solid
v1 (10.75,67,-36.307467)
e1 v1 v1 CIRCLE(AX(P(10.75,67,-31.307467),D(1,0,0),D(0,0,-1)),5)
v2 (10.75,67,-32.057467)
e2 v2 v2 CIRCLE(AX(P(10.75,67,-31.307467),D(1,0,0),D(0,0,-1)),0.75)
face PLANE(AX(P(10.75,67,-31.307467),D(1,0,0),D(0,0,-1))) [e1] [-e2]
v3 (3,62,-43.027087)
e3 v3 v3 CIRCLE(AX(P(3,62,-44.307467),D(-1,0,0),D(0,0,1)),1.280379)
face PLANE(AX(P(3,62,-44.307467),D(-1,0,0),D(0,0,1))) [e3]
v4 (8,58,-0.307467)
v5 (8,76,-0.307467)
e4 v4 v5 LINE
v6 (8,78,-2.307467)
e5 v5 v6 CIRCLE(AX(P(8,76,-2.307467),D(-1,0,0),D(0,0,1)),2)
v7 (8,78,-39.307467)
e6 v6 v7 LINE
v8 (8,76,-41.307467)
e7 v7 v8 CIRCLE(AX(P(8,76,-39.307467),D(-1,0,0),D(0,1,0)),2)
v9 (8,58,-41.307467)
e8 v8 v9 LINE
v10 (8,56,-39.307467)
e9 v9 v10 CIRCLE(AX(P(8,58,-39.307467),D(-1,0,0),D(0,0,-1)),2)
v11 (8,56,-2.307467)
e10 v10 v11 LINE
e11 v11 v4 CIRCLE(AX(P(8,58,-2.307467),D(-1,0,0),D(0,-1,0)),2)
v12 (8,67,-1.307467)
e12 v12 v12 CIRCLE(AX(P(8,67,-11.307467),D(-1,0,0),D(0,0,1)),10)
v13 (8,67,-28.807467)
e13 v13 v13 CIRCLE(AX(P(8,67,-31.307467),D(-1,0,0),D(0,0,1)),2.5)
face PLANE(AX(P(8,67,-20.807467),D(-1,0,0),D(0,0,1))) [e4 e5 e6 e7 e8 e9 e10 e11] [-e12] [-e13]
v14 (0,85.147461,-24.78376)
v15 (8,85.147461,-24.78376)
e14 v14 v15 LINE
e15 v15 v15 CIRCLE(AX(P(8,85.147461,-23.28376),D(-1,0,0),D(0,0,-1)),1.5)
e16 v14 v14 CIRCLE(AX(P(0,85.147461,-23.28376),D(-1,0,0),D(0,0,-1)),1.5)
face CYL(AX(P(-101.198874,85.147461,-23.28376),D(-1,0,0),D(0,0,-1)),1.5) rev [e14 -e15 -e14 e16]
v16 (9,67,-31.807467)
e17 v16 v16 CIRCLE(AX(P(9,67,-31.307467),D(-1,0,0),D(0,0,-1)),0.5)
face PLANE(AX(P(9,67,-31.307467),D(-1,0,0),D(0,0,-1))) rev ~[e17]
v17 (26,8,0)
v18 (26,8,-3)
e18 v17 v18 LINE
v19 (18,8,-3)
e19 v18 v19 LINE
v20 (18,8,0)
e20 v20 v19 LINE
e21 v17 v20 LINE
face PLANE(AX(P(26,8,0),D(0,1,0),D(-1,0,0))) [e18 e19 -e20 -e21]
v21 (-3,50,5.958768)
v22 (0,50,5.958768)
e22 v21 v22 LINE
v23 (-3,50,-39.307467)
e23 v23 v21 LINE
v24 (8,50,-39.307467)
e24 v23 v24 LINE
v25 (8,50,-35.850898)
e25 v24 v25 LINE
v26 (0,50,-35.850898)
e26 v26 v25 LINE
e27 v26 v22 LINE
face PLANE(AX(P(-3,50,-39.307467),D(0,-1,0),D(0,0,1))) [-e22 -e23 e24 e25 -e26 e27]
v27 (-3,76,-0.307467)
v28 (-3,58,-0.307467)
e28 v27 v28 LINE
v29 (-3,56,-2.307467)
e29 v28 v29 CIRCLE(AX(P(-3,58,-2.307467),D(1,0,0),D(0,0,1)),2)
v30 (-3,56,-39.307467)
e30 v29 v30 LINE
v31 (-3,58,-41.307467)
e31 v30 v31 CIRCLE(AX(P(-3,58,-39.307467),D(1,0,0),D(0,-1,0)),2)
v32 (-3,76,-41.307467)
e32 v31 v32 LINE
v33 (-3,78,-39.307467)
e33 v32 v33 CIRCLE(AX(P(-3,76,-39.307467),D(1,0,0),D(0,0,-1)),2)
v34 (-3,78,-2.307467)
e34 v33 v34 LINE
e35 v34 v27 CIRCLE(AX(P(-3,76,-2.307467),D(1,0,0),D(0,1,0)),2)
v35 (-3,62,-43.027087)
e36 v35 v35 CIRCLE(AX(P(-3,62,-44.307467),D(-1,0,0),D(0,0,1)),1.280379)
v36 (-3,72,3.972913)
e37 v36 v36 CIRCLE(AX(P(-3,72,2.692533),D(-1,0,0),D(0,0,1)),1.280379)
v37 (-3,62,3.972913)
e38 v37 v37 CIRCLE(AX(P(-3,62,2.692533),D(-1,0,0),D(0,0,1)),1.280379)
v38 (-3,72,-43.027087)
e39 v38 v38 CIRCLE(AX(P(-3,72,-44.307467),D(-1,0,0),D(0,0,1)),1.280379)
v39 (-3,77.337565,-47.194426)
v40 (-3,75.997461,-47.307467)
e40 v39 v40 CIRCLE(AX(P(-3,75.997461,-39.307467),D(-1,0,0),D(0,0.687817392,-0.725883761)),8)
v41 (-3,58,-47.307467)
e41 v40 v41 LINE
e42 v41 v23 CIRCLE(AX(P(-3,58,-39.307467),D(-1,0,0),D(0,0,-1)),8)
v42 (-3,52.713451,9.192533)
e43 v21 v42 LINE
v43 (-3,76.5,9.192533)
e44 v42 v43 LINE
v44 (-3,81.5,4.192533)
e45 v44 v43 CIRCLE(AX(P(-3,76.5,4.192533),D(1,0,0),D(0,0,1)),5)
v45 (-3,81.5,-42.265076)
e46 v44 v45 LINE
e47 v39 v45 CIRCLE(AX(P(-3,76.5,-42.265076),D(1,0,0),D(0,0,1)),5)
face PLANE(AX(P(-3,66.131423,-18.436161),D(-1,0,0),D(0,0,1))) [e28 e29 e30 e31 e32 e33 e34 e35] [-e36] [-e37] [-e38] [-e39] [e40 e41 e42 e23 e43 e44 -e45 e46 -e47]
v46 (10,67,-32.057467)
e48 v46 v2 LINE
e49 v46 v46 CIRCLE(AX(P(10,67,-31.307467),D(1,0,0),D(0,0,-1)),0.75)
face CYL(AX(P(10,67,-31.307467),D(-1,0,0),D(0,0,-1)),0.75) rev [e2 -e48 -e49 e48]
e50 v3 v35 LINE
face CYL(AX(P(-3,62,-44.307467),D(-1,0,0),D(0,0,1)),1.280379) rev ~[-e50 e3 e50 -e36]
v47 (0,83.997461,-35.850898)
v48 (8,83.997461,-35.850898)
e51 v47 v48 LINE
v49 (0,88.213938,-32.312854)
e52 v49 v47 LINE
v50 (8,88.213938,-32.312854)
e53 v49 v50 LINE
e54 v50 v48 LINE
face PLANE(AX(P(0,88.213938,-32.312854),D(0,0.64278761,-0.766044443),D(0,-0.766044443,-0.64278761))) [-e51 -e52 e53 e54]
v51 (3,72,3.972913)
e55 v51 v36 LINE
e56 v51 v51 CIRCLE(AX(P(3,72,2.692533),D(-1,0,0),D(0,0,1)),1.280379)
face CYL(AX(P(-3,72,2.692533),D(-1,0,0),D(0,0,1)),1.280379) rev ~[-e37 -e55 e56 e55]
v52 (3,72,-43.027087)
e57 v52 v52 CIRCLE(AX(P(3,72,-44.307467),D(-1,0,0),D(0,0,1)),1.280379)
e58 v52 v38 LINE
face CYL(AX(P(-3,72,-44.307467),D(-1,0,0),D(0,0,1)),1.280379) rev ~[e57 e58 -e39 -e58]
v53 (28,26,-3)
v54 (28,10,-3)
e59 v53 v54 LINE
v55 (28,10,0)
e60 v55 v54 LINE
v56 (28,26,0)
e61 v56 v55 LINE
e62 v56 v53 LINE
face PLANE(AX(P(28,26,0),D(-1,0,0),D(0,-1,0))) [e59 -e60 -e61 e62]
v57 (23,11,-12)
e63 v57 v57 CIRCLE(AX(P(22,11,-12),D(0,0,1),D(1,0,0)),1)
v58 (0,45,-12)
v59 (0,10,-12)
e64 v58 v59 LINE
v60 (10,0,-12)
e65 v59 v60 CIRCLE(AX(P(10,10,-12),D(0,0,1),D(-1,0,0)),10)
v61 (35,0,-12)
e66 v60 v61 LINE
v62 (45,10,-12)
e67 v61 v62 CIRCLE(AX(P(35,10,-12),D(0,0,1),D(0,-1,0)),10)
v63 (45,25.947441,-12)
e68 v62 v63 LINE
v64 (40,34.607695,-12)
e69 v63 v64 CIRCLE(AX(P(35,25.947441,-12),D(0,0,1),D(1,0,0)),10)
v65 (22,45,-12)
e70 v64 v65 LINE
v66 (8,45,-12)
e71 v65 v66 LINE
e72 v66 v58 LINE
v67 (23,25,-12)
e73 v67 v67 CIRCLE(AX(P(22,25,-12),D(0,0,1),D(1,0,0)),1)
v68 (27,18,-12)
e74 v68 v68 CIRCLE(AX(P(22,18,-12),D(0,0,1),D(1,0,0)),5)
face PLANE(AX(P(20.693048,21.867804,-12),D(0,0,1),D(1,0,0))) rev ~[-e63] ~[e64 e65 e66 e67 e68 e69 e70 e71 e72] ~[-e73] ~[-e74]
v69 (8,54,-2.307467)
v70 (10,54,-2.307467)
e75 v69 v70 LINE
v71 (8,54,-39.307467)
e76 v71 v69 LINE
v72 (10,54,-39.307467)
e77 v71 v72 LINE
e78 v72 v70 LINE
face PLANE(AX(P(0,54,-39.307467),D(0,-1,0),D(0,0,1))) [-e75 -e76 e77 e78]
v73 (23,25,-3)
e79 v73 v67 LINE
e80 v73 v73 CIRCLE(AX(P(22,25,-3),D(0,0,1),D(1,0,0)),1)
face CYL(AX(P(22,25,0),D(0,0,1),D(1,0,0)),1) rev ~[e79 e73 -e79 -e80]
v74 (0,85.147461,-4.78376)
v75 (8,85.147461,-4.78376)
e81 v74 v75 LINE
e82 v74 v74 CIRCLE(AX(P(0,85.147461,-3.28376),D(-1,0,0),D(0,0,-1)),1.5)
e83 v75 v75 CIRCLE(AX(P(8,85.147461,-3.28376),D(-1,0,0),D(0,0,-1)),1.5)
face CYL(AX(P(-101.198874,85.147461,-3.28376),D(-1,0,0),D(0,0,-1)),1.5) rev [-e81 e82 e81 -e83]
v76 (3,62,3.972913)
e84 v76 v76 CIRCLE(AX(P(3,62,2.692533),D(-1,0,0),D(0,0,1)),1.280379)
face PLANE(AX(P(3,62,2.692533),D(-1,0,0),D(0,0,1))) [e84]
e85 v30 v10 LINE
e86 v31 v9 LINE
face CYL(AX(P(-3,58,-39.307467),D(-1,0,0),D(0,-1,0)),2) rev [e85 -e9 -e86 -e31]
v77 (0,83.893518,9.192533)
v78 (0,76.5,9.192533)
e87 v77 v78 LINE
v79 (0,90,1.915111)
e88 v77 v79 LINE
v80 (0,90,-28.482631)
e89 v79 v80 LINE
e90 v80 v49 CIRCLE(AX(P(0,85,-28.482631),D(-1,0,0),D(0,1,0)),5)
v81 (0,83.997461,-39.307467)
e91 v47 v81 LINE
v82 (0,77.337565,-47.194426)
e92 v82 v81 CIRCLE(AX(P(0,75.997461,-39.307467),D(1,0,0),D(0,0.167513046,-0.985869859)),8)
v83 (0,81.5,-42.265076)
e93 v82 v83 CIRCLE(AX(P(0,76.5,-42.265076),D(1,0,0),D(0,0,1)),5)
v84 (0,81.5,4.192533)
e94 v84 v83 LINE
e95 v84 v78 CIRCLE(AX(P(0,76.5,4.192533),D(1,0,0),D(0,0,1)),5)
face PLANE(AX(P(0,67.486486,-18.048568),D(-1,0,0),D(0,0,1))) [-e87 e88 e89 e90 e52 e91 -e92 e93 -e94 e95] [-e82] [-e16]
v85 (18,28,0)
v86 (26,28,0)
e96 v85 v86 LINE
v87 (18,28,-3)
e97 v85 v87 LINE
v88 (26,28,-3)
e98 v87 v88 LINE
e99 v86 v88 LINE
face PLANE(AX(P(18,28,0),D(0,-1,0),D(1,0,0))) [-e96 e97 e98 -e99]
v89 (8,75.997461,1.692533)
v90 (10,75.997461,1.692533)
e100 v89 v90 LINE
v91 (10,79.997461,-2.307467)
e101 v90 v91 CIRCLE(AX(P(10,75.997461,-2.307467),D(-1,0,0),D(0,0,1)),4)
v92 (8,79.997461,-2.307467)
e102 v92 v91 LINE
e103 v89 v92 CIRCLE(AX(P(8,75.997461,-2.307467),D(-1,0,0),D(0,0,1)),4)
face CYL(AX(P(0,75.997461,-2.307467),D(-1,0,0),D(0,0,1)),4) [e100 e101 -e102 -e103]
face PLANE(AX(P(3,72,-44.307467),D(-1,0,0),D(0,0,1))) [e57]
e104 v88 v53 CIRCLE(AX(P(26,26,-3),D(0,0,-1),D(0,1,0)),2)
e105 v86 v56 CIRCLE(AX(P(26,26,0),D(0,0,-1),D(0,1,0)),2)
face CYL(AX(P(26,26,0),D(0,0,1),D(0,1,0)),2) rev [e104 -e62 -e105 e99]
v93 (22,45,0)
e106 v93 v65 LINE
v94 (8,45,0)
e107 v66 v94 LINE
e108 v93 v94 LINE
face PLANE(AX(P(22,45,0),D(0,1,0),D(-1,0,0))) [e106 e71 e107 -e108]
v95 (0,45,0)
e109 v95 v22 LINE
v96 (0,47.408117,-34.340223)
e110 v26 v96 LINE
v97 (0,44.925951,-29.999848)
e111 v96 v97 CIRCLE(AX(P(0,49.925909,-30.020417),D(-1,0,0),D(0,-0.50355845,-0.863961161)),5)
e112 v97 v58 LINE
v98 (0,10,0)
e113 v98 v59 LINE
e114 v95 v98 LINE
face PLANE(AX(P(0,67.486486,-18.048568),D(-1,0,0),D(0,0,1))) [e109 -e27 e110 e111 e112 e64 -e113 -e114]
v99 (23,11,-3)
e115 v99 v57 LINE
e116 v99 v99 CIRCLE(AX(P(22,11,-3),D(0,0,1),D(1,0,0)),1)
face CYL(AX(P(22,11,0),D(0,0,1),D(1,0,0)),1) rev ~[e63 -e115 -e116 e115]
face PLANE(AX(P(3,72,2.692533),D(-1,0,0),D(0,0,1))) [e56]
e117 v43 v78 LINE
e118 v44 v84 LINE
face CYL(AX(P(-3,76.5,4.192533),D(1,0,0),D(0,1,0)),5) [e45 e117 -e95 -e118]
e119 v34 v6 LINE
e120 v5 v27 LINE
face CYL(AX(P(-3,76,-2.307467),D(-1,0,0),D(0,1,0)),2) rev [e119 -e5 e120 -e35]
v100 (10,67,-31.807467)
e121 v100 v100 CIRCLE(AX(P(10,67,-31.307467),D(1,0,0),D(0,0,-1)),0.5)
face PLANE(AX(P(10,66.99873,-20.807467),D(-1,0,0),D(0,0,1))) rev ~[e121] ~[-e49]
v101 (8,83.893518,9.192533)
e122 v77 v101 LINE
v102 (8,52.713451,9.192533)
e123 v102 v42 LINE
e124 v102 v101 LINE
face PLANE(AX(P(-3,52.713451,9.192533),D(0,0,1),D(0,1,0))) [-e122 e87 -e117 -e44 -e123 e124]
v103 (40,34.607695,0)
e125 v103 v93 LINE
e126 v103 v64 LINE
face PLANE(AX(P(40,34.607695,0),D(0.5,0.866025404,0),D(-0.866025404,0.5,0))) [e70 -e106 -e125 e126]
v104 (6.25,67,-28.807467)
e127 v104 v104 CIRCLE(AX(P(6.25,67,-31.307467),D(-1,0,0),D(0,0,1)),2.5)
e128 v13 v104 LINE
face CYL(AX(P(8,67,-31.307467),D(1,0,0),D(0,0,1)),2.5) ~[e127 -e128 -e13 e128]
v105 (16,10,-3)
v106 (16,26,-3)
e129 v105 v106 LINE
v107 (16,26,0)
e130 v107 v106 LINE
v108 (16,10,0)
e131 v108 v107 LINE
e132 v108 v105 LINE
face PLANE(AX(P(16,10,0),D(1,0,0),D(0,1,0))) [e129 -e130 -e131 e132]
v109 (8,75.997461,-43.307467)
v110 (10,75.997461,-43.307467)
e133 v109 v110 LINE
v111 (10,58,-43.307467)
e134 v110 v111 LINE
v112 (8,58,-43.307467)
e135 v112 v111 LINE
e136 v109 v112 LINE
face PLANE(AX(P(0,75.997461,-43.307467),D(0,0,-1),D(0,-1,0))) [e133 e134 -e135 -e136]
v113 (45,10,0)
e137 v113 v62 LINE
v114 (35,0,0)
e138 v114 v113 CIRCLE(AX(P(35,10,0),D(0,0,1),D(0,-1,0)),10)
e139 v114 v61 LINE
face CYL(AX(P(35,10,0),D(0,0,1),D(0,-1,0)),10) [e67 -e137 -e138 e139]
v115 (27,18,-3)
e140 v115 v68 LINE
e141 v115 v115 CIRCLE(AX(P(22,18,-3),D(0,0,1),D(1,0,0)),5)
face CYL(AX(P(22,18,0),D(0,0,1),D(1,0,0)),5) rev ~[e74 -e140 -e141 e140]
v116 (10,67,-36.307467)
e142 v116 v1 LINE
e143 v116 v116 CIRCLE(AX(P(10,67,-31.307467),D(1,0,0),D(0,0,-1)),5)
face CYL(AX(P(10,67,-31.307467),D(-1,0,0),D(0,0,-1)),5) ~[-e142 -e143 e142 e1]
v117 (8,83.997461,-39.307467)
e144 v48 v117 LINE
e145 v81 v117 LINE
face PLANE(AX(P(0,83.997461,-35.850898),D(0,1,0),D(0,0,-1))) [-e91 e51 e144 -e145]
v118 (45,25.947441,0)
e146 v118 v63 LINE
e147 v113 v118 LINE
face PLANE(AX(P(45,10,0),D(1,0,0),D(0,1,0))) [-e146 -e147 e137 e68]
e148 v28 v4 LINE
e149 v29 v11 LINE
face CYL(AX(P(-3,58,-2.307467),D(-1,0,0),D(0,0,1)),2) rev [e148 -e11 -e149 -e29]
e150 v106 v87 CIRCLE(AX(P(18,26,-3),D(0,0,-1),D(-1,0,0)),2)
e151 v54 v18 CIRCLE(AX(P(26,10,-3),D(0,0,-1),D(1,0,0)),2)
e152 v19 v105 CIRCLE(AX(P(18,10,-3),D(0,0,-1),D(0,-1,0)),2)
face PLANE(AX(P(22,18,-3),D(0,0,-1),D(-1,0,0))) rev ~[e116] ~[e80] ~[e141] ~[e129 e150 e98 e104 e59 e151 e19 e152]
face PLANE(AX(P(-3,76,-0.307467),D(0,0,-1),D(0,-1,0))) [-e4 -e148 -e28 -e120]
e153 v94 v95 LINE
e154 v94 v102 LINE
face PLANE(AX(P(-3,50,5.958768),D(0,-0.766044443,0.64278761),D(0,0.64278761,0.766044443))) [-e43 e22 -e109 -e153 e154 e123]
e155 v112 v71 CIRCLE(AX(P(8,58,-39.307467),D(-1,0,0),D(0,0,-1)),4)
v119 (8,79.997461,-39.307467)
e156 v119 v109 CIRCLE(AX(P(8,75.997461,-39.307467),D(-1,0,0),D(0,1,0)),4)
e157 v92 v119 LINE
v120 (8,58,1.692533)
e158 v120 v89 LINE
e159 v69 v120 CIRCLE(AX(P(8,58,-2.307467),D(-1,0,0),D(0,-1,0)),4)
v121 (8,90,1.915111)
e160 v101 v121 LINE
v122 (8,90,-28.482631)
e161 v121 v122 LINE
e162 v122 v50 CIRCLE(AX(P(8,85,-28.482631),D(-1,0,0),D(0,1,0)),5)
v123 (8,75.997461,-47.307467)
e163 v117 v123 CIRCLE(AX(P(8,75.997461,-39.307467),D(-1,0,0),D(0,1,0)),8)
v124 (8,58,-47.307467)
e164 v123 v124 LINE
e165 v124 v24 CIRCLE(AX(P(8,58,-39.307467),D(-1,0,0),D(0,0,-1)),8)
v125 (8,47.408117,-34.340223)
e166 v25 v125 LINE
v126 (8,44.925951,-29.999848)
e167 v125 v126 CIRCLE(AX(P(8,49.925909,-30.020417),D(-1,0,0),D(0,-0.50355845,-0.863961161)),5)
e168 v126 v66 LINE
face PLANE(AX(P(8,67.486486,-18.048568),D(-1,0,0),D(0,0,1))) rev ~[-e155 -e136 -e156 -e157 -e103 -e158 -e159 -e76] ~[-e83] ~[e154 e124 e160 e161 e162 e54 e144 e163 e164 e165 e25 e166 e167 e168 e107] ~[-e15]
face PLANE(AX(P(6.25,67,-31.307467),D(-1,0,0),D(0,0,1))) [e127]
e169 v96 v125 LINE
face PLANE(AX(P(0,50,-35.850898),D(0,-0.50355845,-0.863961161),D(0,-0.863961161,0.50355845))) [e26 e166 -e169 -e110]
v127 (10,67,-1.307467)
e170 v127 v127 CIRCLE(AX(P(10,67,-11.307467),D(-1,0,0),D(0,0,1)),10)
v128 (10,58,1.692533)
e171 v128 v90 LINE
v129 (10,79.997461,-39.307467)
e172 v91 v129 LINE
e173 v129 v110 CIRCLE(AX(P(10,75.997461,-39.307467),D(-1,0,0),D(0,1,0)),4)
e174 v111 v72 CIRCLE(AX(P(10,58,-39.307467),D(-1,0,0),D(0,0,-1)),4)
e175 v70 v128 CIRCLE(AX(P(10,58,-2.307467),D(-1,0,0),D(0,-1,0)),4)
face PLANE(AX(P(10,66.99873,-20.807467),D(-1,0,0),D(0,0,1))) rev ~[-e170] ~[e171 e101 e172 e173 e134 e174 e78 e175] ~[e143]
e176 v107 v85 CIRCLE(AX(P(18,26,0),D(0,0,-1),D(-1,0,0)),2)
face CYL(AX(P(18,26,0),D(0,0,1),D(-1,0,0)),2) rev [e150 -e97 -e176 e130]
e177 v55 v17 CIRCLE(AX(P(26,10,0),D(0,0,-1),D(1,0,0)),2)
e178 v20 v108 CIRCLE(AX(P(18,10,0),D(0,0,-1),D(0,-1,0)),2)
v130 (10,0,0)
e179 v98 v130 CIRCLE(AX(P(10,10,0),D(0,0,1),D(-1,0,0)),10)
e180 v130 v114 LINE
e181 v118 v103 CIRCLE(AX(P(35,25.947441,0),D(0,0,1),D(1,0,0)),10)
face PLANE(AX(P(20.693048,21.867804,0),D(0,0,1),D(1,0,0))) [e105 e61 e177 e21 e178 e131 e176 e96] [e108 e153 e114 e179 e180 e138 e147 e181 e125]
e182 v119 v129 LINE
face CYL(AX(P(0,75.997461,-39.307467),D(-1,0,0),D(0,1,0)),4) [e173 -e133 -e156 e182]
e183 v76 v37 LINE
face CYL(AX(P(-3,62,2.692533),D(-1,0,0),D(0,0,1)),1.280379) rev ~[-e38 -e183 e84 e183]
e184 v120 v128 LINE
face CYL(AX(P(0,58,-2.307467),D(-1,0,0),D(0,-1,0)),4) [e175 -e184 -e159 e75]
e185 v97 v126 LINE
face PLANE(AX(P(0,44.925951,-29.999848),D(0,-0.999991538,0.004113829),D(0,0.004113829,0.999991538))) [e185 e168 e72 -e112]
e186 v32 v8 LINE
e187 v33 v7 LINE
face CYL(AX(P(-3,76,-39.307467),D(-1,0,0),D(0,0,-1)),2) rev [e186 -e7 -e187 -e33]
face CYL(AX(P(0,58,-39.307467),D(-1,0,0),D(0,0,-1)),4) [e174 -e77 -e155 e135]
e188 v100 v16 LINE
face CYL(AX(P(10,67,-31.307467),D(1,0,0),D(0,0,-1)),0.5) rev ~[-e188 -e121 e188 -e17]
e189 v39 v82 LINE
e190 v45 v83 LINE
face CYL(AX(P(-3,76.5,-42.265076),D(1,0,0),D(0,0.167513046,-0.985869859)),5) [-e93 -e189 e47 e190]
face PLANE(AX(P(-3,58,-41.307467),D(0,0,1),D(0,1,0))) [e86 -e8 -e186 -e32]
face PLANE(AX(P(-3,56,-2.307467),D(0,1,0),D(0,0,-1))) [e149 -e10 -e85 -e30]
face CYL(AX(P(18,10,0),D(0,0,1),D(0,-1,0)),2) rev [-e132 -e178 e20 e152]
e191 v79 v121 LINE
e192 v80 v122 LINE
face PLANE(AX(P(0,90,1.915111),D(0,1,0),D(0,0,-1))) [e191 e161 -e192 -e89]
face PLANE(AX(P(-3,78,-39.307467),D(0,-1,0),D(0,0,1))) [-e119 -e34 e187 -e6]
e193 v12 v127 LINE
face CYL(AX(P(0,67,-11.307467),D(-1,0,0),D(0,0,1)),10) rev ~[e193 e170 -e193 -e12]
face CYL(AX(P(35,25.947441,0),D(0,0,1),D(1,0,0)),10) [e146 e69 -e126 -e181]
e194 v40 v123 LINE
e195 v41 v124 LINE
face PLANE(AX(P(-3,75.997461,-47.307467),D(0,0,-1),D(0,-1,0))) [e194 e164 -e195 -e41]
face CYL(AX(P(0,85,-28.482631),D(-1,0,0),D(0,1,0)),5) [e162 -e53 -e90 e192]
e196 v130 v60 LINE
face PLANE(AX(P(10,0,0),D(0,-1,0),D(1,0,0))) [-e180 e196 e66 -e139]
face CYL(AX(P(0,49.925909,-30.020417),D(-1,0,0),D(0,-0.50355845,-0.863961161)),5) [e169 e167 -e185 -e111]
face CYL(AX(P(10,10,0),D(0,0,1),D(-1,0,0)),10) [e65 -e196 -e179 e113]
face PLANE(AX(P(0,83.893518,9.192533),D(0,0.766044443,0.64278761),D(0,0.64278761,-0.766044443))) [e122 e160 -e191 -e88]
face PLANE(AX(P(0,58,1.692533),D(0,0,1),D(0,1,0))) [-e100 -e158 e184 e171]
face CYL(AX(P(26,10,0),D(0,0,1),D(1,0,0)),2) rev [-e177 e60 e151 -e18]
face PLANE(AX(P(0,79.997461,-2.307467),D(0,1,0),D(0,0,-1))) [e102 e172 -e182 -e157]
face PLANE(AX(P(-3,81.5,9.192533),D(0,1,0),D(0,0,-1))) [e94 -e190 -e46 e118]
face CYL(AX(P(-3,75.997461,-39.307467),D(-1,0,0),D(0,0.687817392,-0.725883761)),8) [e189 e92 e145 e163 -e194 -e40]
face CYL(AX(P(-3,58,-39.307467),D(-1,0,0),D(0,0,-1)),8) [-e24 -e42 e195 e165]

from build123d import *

# Parameters (mm, degrees)
BOSS_EXTRUDE1_DEPTH     = 12
SKETCH1_3_R             = 1.0000000000000018
SKETCH1_3_R_2           = 4.999999999999997
CUT_EXTRUDE1_DEPTH      = 3
SKETCH1_4_R             = 1.0000000000000018
SKETCH1_4_R_2           = 4.999999999999997
CUT_EXTRUDE2_DEPTH      = 65.76109943476871
BOSS_EXTRUDE2_DEPTH     = 8
BOSS_EXTRUDE3_DEPTH     = 10
CUT_EXTRUDE5_DEPTH      = 8
SKETCH3_7_R             = 10.000000000000016
CUT_EXTRUDE6_DEPTH      = 112.18901206469407
SKETCH7_R               = 1.2803794551692569
SKETCH7_R_2             = 1.2803794551692533
CUT_EXTRUDE7_DEPTH      = 3
CUT_EXTRUDE8_DEPTH      = 109.19887431911056
CUT_EXTRUDE8_DEPTH_BACK = 109.19887431911056
SKETCH9_R               = 1.5000000000000018
SKETCH9_R_2             = 1.5000000000000009
SKETCH12_R              = 0.49999999999999917
CUT_EXTRUDE9_DEPTH      = 10
SKETCH13_R              = 4.999999999999998
SKETCH13_R_2            = 0.7499999999999987
BOSS_EXTRUDE5_DEPTH     = 0.75
BOSS_EXTRUDE7_START     = 3
SKETCH14_R              = 1.2803794551692569
SKETCH14_R_2            = 1.2803794551692533
BOSS_EXTRUDE7_DEPTH     = 3
FILLET1_R               = 5
BOSS_EXTRUDE9_START     = -1
SKETCH16_R              = 0.49999999999999917
BOSS_EXTRUDE9_DEPTH     = 1
SKETCH17_R              = 2.499999999999999
BOSS_EXTRUDE10_DEPTH    = 1.75


with BuildPart() as part:
    # Sketch1 → Boss-Extrude1 (new body)
    with BuildSketch(Plane.XY):
        with BuildLine():
            Line((0, 45), (0, 10.00000000000007))
            ThreePointArc((0, 10.00000000000007), (2.9289321881345227, 2.9289321881345236), (10.000000000000071, 0))
            Line((10.000000000000071, 0), (34.99999999999999, 0))
            ThreePointArc((34.99999999999999, 0), (42.07106781186547, 2.9289321881345254), (45.00000000000001, 10))
            Line((45.00000000000001, 10), (45, 25.947441116742414))
            ThreePointArc((45, 25.947441116742414), (43.66025403784438, 30.947441116742425), (39.99999999999998, 34.60769515458682))
            Line((39.99999999999998, 34.60769515458682), (22.000000000000004, 45))
            Line((22.000000000000004, 45), (0, 45))
        make_face()
    extrude(amount=-BOSS_EXTRUDE1_DEPTH)

    # Sketch1<3> → Cut-Extrude1 (cut)
    # profile 1 of 4: a face of its own
    with BuildSketch(Plane.XY):
        with BuildLine():
            ThreePointArc((16, 25.999999999999996), (16.585786437626908, 27.414213562373092), (18.000000000000004, 27.999999999999996))
            Line((18.000000000000004, 27.999999999999996), (26.000000000000004, 27.999999999999996))
            ThreePointArc((26.000000000000004, 27.999999999999996), (27.4142135623731, 27.414213562373092), (28.000000000000007, 25.999999999999996))
            Line((28.000000000000007, 25.999999999999996), (28.000000000000007, 9.999999999999998))
            ThreePointArc((28.000000000000007, 9.999999999999998), (27.4142135623731, 8.585786437626904), (26.000000000000004, 7.999999999999998))
            Line((26.000000000000004, 7.999999999999998), (18.000000000000004, 7.999999999999998))
            ThreePointArc((18.000000000000004, 7.999999999999998), (16.585786437626908, 8.585786437626902), (16, 9.999999999999998))
            Line((16, 9.999999999999998), (16, 25.999999999999996))
        make_face()
        with Locations((22.000000000000004, 24.999999999999996)):
            Circle(SKETCH1_3_R, mode=Mode.SUBTRACT)
        with Locations((22.000000000000014, 11)):
            Circle(SKETCH1_3_R, mode=Mode.SUBTRACT)
    # profile 2 of 4: a face of its own
    with BuildSketch(Plane.XY):
        with Locations((22.000000000000004, 24.999999999999996)):
            Circle(SKETCH1_3_R)
    # profile 3 of 4: a face of its own
    with BuildSketch(Plane.XY):
        with Locations((22.000000000000014, 11)):
            Circle(SKETCH1_3_R)
    # profile 4 of 4: a face of its own
    with BuildSketch(Plane.XY):
        with Locations((22, 18)):
            Circle(SKETCH1_3_R_2)
    extrude(amount=-CUT_EXTRUDE1_DEPTH, mode=Mode.SUBTRACT)

    # Sketch1<4> → Cut-Extrude2 (cut, through all)
    with BuildSketch(Plane.XY):
        with Locations((22.000000000000004, 24.999999999999996)):
            Circle(SKETCH1_4_R)
        with Locations((22.000000000000014, 11)):
            Circle(SKETCH1_4_R)
        with Locations((22, 18)):
            Circle(SKETCH1_4_R_2)
    extrude(amount=-CUT_EXTRUDE2_DEPTH, mode=Mode.SUBTRACT)

    # Sketch3 → Boss-Extrude2 (add)
    with BuildSketch(Plane.ZY):
        with BuildLine():
            Line((0, 45), (9.192533317427756, 52.71345131623845))
            Line((9.192533317427756, 52.71345131623845), (9.192533317427753, 83.89351770797785))
            Line((9.192533317427753, 83.89351770797785), (1.9151111077974905, 90))
            Line((1.9151111077974914, 90), (-28.482631319534235, 90))
            ThreePointArc((-28.482631319534235, 90), (-30.595722628237752, 89.53153893518325), (-32.31285353512915, 88.21393804843267))
            Line((-32.31285353512915, 88.21393804843267), (-35.85089798717716, 83.99746086194635))
            Line((-35.85089798717716, 83.99746086194632), (-39.307466682572176, 83.99746086194632))
            ThreePointArc((-39.307466682572176, 83.99746086194632), (-44.9643209320646, 81.65431511143869), (-47.30746668257225, 75.99746086194627))
            Line((-47.30746668257224, 75.99746086194627), (-47.30746668257224, 57.99999999999996))
            ThreePointArc((-47.30746668257224, 57.99999999999996), (-44.96432093206462, 52.343145750507574), (-39.30746668257224, 49.99999999999996))
            Line((-39.30746668257224, 49.99999999999996), (-35.85089798717716, 49.99999999999996))
            Line((-35.85089798717716, 49.99999999999998), (-34.340222638150145, 47.408116516924004))
            ThreePointArc((-34.340222638150145, 47.408116516924004), (-32.50258227548949, 45.585533814191855), (-29.999847687039637, 44.92595107445804))
            Line((-29.999847687039637, 44.92595107445804), (-12, 45))
            Line((-12, 45), (0, 45))
        make_face()
        with BuildLine():
            ThreePointArc((-0.30746668257224474, 57.99999999999999), (-0.893253120199152, 56.585786437626886), (-2.3074666825722603, 55.99999999999998))
            Line((-2.3074666825722616, 55.99999999999998), (-39.307466682572226, 55.99999999999998))
            ThreePointArc((-39.307466682572226, 55.99999999999998), (-40.72168024494533, 56.585786437626886), (-41.30746668257224, 57.99999999999999))
            Line((-41.30746668257224, 57.99999999999999), (-41.30746668257225, 75.99999999999989))
            ThreePointArc((-41.30746668257225, 75.99999999999989), (-40.721680244945325, 77.41421356237302), (-39.30746668257219, 77.99999999999994))
            Line((-39.30746668257219, 77.99999999999994), (-2.307466682572233, 77.99999999999994))
            ThreePointArc((-2.307466682572236, 77.99999999999994), (-0.8932531201991549, 77.41421356237304), (-0.30746668257225007, 75.99999999999996))
            Line((-0.3074666825722463, 75.99999999999996), (-0.3074666825722459, 57.99999999999999))
        make_face(mode=Mode.SUBTRACT)
    extrude(amount=-BOSS_EXTRUDE2_DEPTH)

    # Sketch3<4> → Boss-Extrude3 (add)
    with BuildSketch(Plane.ZY):
        with BuildLine():
            Line((-43.307466682572255, 75.99746086194627), (-43.30746668257225, 57.99999999999996))
            ThreePointArc((-43.30746668257225, 57.99999999999996), (-42.13589380731844, 55.171572875253766), (-39.30746668257225, 53.99999999999995))
            Line((-39.30746668257225, 53.99999999999995), (-2.307466682572236, 53.99999999999995))
            ThreePointArc((-2.307466682572236, 53.99999999999995), (0.520960442173954, 55.17157287525376), (1.6925333174277633, 57.99999999999995))
            Line((1.6925333174277633, 57.99999999999995), (1.6925333174277606, 75.99746086194632))
            ThreePointArc((1.6925333174277606, 75.99746086194632), (0.5209604421739544, 78.8258879866925), (-2.307466682572236, 79.99746086194632))
            Line((-2.307466682572236, 79.99746086194632), (-39.30746668257218, 79.99746086194632))
            ThreePointArc((-39.30746668257218, 79.99746086194632), (-42.135893807318425, 78.8258879866925), (-43.307466682572255, 75.99746086194627))
        make_face()
    extrude(amount=-BOSS_EXTRUDE3_DEPTH)

    # Sketch3<6> → Cut-Extrude5 (cut)
    with BuildSketch(Plane.ZY):
        with BuildLine():
            Line((-41.30746668257225, 75.99999999999989), (-41.30746668257224, 57.99999999999999))
            ThreePointArc((-41.30746668257224, 57.99999999999999), (-40.72168024494533, 56.585786437626886), (-39.307466682572226, 55.99999999999998))
            Line((-39.307466682572226, 55.99999999999998), (-2.3074666825722603, 55.99999999999998))
            ThreePointArc((-2.3074666825722603, 55.99999999999998), (-0.8932531201991509, 56.585786437626886), (-0.3074666825722459, 57.99999999999999))
            Line((-0.3074666825722459, 57.99999999999999), (-0.3074666825722463, 75.99999999999996))
            ThreePointArc((-0.3074666825722463, 75.99999999999996), (-0.8932531201991507, 77.41421356237304), (-2.307466682572236, 77.99999999999994))
            Line((-2.307466682572236, 77.99999999999994), (-39.30746668257219, 77.99999999999994))
            ThreePointArc((-39.30746668257219, 77.99999999999994), (-40.721680244945325, 77.41421356237302), (-41.30746668257225, 75.99999999999989))
        make_face()
    extrude(amount=-CUT_EXTRUDE5_DEPTH, mode=Mode.SUBTRACT)

    # Sketch3<7> → Cut-Extrude6 (cut, through all)
    with BuildSketch(Plane.ZY):
        with Locations((-11.307466682572244, 66.99999999999991)):
            Circle(SKETCH3_7_R)
    extrude(amount=-CUT_EXTRUDE6_DEPTH, mode=Mode.SUBTRACT)

    # Sketch7 → Cut-Extrude7 (cut)
    with BuildSketch(Plane.ZY):
        with Locations((-44.30746668257226, 71.99999999999999)):
            Circle(SKETCH7_R)
        with Locations((-44.307466682572255, 61.99999999999998)):
            Circle(SKETCH7_R)
        with Locations((2.692533317427754, 61.99999999999998)):
            Circle(SKETCH7_R_2)
        with Locations((2.692533317427754, 71.99999999999999)):
            Circle(SKETCH7_R_2)
    extrude(amount=-CUT_EXTRUDE7_DEPTH, mode=Mode.SUBTRACT)

    # Sketch9 → Cut-Extrude8 (cut, two sides: drawn at the far end of the back side and taken through both)
    with BuildSketch(Plane(origin=(8, 0, 0), x_dir=(0, 0, -1), z_dir=(1, 0, 0)).offset(-CUT_EXTRUDE8_DEPTH_BACK)):
        with Locations((3.283760105868373, 85.14746086194633)):
            Circle(SKETCH9_R)
        with Locations((23.28376010586837, 85.14746086194633)):
            Circle(SKETCH9_R_2)
    extrude(amount=CUT_EXTRUDE8_DEPTH + CUT_EXTRUDE8_DEPTH_BACK, mode=Mode.SUBTRACT)

    # Sketch12 → Cut-Extrude9 (cut)
    with BuildSketch(Plane(origin=(10, 0, 0), x_dir=(0, 0, -1), z_dir=(1, 0, 0))):
        with Locations((31.30746668257224, 66.99999999999997)):
            Circle(SKETCH12_R)
    extrude(amount=-CUT_EXTRUDE9_DEPTH, mode=Mode.SUBTRACT)

    # Sketch13 → Boss-Extrude5 (add)
    with BuildSketch(Plane(origin=(10, 0, 0), x_dir=(0, 0, -1), z_dir=(1, 0, 0))):
        with Locations((31.30746668257224, 66.99999999999991)):
            Circle(SKETCH13_R)
        with Locations((31.30746668257224, 66.99999999999991)):
            Circle(SKETCH13_R_2, mode=Mode.SUBTRACT)
    extrude(amount=BOSS_EXTRUDE5_DEPTH)

    # Sketch14 → Boss-Extrude7 (add)
    with BuildSketch(Plane.ZY.offset(BOSS_EXTRUDE7_START)):
        with BuildLine():
            Line((-35.85089798717716, 49.99999999999997), (5.958767962971046, 49.99999999999997))
            Line((5.958767962971046, 49.99999999999997), (9.192533317427753, 52.71345131623845))
            Line((9.192533317427753, 52.71345131623845), (9.192533317427753, 81.49999999999994))
            Line((9.192533317427753, 81.49999999999994), (-45.11453677291794, 81.49999999999994))
            ThreePointArc((-45.11453677291794, 81.49999999999994), (-46.739039891616386, 78.95916976705784), (-47.30746668257223, 75.99746086194627))
            Line((-47.30746668257223, 75.99746086194627), (-47.30746668257224, 57.99999999999996))
            ThreePointArc((-47.30746668257224, 57.99999999999996), (-44.96432093206462, 52.343145750507574), (-39.30746668257224, 49.99999999999996))
            Line((-39.30746668257224, 49.99999999999996), (-35.85089798717716, 49.99999999999997))
        make_face()
        with Locations((-44.30746668257226, 71.99999999999999)):
            Circle(SKETCH14_R, mode=Mode.SUBTRACT)
        with Locations((-44.307466682572255, 61.99999999999998)):
            Circle(SKETCH14_R, mode=Mode.SUBTRACT)
        with Locations((2.692533317427754, 61.99999999999998)):
            Circle(SKETCH14_R_2, mode=Mode.SUBTRACT)
        with Locations((2.692533317427754, 71.99999999999999)):
            Circle(SKETCH14_R_2, mode=Mode.SUBTRACT)
        with BuildLine():
            Line((-0.3074666825722463, 75.99999999999996), (-0.3074666825722459, 57.99999999999999))
            ThreePointArc((-0.3074666825722459, 57.99999999999999), (-0.8932531201991509, 56.585786437626886), (-2.3074666825722603, 55.99999999999998))
            Line((-2.3074666825722603, 55.99999999999998), (-39.307466682572226, 55.99999999999998))
            ThreePointArc((-39.307466682572226, 55.99999999999998), (-40.72168024494533, 56.585786437626886), (-41.30746668257224, 57.99999999999999))
            Line((-41.30746668257224, 57.99999999999999), (-41.30746668257225, 75.99999999999989))
            ThreePointArc((-41.30746668257225, 75.99999999999989), (-40.721680244945325, 77.41421356237302), (-39.30746668257219, 77.99999999999994))
            Line((-39.30746668257219, 77.99999999999994), (-2.307466682572236, 77.99999999999994))
            ThreePointArc((-2.307466682572236, 77.99999999999994), (-0.893253120199148, 77.41421356237305), (-0.3074666825722463, 75.99999999999996))
        make_face(mode=Mode.SUBTRACT)
    extrude(amount=-BOSS_EXTRUDE7_DEPTH)

    # Fillet1
    fillet1_edges = [part.edges().sort_by_distance(p)[0] for p in [
        (-1.5, 81.49999999999994, 9.192533317427753),
        (-1.5, 81.49999999999994, -45.11453677291794),
    ]]
    fillet(fillet1_edges, radius=FILLET1_R)

    # Sketch16 → Boss-Extrude9 (add)
    with BuildSketch(Plane.ZY.offset(-8).offset(BOSS_EXTRUDE9_START)):
        with Locations(Location((-31.30746668257224, 66.99999999999997, 0), (0, 0, 180))):
            Circle(SKETCH16_R)
    extrude(amount=BOSS_EXTRUDE9_DEPTH)

    # Sketch17 → Boss-Extrude10 (add)
    with BuildSketch(Plane.ZY.offset(-8)):
        with Locations((-31.30746668257224, 66.99999999999997)):
            Circle(SKETCH17_R)
    extrude(amount=BOSS_EXTRUDE10_DEPTH)


solid = part.part
